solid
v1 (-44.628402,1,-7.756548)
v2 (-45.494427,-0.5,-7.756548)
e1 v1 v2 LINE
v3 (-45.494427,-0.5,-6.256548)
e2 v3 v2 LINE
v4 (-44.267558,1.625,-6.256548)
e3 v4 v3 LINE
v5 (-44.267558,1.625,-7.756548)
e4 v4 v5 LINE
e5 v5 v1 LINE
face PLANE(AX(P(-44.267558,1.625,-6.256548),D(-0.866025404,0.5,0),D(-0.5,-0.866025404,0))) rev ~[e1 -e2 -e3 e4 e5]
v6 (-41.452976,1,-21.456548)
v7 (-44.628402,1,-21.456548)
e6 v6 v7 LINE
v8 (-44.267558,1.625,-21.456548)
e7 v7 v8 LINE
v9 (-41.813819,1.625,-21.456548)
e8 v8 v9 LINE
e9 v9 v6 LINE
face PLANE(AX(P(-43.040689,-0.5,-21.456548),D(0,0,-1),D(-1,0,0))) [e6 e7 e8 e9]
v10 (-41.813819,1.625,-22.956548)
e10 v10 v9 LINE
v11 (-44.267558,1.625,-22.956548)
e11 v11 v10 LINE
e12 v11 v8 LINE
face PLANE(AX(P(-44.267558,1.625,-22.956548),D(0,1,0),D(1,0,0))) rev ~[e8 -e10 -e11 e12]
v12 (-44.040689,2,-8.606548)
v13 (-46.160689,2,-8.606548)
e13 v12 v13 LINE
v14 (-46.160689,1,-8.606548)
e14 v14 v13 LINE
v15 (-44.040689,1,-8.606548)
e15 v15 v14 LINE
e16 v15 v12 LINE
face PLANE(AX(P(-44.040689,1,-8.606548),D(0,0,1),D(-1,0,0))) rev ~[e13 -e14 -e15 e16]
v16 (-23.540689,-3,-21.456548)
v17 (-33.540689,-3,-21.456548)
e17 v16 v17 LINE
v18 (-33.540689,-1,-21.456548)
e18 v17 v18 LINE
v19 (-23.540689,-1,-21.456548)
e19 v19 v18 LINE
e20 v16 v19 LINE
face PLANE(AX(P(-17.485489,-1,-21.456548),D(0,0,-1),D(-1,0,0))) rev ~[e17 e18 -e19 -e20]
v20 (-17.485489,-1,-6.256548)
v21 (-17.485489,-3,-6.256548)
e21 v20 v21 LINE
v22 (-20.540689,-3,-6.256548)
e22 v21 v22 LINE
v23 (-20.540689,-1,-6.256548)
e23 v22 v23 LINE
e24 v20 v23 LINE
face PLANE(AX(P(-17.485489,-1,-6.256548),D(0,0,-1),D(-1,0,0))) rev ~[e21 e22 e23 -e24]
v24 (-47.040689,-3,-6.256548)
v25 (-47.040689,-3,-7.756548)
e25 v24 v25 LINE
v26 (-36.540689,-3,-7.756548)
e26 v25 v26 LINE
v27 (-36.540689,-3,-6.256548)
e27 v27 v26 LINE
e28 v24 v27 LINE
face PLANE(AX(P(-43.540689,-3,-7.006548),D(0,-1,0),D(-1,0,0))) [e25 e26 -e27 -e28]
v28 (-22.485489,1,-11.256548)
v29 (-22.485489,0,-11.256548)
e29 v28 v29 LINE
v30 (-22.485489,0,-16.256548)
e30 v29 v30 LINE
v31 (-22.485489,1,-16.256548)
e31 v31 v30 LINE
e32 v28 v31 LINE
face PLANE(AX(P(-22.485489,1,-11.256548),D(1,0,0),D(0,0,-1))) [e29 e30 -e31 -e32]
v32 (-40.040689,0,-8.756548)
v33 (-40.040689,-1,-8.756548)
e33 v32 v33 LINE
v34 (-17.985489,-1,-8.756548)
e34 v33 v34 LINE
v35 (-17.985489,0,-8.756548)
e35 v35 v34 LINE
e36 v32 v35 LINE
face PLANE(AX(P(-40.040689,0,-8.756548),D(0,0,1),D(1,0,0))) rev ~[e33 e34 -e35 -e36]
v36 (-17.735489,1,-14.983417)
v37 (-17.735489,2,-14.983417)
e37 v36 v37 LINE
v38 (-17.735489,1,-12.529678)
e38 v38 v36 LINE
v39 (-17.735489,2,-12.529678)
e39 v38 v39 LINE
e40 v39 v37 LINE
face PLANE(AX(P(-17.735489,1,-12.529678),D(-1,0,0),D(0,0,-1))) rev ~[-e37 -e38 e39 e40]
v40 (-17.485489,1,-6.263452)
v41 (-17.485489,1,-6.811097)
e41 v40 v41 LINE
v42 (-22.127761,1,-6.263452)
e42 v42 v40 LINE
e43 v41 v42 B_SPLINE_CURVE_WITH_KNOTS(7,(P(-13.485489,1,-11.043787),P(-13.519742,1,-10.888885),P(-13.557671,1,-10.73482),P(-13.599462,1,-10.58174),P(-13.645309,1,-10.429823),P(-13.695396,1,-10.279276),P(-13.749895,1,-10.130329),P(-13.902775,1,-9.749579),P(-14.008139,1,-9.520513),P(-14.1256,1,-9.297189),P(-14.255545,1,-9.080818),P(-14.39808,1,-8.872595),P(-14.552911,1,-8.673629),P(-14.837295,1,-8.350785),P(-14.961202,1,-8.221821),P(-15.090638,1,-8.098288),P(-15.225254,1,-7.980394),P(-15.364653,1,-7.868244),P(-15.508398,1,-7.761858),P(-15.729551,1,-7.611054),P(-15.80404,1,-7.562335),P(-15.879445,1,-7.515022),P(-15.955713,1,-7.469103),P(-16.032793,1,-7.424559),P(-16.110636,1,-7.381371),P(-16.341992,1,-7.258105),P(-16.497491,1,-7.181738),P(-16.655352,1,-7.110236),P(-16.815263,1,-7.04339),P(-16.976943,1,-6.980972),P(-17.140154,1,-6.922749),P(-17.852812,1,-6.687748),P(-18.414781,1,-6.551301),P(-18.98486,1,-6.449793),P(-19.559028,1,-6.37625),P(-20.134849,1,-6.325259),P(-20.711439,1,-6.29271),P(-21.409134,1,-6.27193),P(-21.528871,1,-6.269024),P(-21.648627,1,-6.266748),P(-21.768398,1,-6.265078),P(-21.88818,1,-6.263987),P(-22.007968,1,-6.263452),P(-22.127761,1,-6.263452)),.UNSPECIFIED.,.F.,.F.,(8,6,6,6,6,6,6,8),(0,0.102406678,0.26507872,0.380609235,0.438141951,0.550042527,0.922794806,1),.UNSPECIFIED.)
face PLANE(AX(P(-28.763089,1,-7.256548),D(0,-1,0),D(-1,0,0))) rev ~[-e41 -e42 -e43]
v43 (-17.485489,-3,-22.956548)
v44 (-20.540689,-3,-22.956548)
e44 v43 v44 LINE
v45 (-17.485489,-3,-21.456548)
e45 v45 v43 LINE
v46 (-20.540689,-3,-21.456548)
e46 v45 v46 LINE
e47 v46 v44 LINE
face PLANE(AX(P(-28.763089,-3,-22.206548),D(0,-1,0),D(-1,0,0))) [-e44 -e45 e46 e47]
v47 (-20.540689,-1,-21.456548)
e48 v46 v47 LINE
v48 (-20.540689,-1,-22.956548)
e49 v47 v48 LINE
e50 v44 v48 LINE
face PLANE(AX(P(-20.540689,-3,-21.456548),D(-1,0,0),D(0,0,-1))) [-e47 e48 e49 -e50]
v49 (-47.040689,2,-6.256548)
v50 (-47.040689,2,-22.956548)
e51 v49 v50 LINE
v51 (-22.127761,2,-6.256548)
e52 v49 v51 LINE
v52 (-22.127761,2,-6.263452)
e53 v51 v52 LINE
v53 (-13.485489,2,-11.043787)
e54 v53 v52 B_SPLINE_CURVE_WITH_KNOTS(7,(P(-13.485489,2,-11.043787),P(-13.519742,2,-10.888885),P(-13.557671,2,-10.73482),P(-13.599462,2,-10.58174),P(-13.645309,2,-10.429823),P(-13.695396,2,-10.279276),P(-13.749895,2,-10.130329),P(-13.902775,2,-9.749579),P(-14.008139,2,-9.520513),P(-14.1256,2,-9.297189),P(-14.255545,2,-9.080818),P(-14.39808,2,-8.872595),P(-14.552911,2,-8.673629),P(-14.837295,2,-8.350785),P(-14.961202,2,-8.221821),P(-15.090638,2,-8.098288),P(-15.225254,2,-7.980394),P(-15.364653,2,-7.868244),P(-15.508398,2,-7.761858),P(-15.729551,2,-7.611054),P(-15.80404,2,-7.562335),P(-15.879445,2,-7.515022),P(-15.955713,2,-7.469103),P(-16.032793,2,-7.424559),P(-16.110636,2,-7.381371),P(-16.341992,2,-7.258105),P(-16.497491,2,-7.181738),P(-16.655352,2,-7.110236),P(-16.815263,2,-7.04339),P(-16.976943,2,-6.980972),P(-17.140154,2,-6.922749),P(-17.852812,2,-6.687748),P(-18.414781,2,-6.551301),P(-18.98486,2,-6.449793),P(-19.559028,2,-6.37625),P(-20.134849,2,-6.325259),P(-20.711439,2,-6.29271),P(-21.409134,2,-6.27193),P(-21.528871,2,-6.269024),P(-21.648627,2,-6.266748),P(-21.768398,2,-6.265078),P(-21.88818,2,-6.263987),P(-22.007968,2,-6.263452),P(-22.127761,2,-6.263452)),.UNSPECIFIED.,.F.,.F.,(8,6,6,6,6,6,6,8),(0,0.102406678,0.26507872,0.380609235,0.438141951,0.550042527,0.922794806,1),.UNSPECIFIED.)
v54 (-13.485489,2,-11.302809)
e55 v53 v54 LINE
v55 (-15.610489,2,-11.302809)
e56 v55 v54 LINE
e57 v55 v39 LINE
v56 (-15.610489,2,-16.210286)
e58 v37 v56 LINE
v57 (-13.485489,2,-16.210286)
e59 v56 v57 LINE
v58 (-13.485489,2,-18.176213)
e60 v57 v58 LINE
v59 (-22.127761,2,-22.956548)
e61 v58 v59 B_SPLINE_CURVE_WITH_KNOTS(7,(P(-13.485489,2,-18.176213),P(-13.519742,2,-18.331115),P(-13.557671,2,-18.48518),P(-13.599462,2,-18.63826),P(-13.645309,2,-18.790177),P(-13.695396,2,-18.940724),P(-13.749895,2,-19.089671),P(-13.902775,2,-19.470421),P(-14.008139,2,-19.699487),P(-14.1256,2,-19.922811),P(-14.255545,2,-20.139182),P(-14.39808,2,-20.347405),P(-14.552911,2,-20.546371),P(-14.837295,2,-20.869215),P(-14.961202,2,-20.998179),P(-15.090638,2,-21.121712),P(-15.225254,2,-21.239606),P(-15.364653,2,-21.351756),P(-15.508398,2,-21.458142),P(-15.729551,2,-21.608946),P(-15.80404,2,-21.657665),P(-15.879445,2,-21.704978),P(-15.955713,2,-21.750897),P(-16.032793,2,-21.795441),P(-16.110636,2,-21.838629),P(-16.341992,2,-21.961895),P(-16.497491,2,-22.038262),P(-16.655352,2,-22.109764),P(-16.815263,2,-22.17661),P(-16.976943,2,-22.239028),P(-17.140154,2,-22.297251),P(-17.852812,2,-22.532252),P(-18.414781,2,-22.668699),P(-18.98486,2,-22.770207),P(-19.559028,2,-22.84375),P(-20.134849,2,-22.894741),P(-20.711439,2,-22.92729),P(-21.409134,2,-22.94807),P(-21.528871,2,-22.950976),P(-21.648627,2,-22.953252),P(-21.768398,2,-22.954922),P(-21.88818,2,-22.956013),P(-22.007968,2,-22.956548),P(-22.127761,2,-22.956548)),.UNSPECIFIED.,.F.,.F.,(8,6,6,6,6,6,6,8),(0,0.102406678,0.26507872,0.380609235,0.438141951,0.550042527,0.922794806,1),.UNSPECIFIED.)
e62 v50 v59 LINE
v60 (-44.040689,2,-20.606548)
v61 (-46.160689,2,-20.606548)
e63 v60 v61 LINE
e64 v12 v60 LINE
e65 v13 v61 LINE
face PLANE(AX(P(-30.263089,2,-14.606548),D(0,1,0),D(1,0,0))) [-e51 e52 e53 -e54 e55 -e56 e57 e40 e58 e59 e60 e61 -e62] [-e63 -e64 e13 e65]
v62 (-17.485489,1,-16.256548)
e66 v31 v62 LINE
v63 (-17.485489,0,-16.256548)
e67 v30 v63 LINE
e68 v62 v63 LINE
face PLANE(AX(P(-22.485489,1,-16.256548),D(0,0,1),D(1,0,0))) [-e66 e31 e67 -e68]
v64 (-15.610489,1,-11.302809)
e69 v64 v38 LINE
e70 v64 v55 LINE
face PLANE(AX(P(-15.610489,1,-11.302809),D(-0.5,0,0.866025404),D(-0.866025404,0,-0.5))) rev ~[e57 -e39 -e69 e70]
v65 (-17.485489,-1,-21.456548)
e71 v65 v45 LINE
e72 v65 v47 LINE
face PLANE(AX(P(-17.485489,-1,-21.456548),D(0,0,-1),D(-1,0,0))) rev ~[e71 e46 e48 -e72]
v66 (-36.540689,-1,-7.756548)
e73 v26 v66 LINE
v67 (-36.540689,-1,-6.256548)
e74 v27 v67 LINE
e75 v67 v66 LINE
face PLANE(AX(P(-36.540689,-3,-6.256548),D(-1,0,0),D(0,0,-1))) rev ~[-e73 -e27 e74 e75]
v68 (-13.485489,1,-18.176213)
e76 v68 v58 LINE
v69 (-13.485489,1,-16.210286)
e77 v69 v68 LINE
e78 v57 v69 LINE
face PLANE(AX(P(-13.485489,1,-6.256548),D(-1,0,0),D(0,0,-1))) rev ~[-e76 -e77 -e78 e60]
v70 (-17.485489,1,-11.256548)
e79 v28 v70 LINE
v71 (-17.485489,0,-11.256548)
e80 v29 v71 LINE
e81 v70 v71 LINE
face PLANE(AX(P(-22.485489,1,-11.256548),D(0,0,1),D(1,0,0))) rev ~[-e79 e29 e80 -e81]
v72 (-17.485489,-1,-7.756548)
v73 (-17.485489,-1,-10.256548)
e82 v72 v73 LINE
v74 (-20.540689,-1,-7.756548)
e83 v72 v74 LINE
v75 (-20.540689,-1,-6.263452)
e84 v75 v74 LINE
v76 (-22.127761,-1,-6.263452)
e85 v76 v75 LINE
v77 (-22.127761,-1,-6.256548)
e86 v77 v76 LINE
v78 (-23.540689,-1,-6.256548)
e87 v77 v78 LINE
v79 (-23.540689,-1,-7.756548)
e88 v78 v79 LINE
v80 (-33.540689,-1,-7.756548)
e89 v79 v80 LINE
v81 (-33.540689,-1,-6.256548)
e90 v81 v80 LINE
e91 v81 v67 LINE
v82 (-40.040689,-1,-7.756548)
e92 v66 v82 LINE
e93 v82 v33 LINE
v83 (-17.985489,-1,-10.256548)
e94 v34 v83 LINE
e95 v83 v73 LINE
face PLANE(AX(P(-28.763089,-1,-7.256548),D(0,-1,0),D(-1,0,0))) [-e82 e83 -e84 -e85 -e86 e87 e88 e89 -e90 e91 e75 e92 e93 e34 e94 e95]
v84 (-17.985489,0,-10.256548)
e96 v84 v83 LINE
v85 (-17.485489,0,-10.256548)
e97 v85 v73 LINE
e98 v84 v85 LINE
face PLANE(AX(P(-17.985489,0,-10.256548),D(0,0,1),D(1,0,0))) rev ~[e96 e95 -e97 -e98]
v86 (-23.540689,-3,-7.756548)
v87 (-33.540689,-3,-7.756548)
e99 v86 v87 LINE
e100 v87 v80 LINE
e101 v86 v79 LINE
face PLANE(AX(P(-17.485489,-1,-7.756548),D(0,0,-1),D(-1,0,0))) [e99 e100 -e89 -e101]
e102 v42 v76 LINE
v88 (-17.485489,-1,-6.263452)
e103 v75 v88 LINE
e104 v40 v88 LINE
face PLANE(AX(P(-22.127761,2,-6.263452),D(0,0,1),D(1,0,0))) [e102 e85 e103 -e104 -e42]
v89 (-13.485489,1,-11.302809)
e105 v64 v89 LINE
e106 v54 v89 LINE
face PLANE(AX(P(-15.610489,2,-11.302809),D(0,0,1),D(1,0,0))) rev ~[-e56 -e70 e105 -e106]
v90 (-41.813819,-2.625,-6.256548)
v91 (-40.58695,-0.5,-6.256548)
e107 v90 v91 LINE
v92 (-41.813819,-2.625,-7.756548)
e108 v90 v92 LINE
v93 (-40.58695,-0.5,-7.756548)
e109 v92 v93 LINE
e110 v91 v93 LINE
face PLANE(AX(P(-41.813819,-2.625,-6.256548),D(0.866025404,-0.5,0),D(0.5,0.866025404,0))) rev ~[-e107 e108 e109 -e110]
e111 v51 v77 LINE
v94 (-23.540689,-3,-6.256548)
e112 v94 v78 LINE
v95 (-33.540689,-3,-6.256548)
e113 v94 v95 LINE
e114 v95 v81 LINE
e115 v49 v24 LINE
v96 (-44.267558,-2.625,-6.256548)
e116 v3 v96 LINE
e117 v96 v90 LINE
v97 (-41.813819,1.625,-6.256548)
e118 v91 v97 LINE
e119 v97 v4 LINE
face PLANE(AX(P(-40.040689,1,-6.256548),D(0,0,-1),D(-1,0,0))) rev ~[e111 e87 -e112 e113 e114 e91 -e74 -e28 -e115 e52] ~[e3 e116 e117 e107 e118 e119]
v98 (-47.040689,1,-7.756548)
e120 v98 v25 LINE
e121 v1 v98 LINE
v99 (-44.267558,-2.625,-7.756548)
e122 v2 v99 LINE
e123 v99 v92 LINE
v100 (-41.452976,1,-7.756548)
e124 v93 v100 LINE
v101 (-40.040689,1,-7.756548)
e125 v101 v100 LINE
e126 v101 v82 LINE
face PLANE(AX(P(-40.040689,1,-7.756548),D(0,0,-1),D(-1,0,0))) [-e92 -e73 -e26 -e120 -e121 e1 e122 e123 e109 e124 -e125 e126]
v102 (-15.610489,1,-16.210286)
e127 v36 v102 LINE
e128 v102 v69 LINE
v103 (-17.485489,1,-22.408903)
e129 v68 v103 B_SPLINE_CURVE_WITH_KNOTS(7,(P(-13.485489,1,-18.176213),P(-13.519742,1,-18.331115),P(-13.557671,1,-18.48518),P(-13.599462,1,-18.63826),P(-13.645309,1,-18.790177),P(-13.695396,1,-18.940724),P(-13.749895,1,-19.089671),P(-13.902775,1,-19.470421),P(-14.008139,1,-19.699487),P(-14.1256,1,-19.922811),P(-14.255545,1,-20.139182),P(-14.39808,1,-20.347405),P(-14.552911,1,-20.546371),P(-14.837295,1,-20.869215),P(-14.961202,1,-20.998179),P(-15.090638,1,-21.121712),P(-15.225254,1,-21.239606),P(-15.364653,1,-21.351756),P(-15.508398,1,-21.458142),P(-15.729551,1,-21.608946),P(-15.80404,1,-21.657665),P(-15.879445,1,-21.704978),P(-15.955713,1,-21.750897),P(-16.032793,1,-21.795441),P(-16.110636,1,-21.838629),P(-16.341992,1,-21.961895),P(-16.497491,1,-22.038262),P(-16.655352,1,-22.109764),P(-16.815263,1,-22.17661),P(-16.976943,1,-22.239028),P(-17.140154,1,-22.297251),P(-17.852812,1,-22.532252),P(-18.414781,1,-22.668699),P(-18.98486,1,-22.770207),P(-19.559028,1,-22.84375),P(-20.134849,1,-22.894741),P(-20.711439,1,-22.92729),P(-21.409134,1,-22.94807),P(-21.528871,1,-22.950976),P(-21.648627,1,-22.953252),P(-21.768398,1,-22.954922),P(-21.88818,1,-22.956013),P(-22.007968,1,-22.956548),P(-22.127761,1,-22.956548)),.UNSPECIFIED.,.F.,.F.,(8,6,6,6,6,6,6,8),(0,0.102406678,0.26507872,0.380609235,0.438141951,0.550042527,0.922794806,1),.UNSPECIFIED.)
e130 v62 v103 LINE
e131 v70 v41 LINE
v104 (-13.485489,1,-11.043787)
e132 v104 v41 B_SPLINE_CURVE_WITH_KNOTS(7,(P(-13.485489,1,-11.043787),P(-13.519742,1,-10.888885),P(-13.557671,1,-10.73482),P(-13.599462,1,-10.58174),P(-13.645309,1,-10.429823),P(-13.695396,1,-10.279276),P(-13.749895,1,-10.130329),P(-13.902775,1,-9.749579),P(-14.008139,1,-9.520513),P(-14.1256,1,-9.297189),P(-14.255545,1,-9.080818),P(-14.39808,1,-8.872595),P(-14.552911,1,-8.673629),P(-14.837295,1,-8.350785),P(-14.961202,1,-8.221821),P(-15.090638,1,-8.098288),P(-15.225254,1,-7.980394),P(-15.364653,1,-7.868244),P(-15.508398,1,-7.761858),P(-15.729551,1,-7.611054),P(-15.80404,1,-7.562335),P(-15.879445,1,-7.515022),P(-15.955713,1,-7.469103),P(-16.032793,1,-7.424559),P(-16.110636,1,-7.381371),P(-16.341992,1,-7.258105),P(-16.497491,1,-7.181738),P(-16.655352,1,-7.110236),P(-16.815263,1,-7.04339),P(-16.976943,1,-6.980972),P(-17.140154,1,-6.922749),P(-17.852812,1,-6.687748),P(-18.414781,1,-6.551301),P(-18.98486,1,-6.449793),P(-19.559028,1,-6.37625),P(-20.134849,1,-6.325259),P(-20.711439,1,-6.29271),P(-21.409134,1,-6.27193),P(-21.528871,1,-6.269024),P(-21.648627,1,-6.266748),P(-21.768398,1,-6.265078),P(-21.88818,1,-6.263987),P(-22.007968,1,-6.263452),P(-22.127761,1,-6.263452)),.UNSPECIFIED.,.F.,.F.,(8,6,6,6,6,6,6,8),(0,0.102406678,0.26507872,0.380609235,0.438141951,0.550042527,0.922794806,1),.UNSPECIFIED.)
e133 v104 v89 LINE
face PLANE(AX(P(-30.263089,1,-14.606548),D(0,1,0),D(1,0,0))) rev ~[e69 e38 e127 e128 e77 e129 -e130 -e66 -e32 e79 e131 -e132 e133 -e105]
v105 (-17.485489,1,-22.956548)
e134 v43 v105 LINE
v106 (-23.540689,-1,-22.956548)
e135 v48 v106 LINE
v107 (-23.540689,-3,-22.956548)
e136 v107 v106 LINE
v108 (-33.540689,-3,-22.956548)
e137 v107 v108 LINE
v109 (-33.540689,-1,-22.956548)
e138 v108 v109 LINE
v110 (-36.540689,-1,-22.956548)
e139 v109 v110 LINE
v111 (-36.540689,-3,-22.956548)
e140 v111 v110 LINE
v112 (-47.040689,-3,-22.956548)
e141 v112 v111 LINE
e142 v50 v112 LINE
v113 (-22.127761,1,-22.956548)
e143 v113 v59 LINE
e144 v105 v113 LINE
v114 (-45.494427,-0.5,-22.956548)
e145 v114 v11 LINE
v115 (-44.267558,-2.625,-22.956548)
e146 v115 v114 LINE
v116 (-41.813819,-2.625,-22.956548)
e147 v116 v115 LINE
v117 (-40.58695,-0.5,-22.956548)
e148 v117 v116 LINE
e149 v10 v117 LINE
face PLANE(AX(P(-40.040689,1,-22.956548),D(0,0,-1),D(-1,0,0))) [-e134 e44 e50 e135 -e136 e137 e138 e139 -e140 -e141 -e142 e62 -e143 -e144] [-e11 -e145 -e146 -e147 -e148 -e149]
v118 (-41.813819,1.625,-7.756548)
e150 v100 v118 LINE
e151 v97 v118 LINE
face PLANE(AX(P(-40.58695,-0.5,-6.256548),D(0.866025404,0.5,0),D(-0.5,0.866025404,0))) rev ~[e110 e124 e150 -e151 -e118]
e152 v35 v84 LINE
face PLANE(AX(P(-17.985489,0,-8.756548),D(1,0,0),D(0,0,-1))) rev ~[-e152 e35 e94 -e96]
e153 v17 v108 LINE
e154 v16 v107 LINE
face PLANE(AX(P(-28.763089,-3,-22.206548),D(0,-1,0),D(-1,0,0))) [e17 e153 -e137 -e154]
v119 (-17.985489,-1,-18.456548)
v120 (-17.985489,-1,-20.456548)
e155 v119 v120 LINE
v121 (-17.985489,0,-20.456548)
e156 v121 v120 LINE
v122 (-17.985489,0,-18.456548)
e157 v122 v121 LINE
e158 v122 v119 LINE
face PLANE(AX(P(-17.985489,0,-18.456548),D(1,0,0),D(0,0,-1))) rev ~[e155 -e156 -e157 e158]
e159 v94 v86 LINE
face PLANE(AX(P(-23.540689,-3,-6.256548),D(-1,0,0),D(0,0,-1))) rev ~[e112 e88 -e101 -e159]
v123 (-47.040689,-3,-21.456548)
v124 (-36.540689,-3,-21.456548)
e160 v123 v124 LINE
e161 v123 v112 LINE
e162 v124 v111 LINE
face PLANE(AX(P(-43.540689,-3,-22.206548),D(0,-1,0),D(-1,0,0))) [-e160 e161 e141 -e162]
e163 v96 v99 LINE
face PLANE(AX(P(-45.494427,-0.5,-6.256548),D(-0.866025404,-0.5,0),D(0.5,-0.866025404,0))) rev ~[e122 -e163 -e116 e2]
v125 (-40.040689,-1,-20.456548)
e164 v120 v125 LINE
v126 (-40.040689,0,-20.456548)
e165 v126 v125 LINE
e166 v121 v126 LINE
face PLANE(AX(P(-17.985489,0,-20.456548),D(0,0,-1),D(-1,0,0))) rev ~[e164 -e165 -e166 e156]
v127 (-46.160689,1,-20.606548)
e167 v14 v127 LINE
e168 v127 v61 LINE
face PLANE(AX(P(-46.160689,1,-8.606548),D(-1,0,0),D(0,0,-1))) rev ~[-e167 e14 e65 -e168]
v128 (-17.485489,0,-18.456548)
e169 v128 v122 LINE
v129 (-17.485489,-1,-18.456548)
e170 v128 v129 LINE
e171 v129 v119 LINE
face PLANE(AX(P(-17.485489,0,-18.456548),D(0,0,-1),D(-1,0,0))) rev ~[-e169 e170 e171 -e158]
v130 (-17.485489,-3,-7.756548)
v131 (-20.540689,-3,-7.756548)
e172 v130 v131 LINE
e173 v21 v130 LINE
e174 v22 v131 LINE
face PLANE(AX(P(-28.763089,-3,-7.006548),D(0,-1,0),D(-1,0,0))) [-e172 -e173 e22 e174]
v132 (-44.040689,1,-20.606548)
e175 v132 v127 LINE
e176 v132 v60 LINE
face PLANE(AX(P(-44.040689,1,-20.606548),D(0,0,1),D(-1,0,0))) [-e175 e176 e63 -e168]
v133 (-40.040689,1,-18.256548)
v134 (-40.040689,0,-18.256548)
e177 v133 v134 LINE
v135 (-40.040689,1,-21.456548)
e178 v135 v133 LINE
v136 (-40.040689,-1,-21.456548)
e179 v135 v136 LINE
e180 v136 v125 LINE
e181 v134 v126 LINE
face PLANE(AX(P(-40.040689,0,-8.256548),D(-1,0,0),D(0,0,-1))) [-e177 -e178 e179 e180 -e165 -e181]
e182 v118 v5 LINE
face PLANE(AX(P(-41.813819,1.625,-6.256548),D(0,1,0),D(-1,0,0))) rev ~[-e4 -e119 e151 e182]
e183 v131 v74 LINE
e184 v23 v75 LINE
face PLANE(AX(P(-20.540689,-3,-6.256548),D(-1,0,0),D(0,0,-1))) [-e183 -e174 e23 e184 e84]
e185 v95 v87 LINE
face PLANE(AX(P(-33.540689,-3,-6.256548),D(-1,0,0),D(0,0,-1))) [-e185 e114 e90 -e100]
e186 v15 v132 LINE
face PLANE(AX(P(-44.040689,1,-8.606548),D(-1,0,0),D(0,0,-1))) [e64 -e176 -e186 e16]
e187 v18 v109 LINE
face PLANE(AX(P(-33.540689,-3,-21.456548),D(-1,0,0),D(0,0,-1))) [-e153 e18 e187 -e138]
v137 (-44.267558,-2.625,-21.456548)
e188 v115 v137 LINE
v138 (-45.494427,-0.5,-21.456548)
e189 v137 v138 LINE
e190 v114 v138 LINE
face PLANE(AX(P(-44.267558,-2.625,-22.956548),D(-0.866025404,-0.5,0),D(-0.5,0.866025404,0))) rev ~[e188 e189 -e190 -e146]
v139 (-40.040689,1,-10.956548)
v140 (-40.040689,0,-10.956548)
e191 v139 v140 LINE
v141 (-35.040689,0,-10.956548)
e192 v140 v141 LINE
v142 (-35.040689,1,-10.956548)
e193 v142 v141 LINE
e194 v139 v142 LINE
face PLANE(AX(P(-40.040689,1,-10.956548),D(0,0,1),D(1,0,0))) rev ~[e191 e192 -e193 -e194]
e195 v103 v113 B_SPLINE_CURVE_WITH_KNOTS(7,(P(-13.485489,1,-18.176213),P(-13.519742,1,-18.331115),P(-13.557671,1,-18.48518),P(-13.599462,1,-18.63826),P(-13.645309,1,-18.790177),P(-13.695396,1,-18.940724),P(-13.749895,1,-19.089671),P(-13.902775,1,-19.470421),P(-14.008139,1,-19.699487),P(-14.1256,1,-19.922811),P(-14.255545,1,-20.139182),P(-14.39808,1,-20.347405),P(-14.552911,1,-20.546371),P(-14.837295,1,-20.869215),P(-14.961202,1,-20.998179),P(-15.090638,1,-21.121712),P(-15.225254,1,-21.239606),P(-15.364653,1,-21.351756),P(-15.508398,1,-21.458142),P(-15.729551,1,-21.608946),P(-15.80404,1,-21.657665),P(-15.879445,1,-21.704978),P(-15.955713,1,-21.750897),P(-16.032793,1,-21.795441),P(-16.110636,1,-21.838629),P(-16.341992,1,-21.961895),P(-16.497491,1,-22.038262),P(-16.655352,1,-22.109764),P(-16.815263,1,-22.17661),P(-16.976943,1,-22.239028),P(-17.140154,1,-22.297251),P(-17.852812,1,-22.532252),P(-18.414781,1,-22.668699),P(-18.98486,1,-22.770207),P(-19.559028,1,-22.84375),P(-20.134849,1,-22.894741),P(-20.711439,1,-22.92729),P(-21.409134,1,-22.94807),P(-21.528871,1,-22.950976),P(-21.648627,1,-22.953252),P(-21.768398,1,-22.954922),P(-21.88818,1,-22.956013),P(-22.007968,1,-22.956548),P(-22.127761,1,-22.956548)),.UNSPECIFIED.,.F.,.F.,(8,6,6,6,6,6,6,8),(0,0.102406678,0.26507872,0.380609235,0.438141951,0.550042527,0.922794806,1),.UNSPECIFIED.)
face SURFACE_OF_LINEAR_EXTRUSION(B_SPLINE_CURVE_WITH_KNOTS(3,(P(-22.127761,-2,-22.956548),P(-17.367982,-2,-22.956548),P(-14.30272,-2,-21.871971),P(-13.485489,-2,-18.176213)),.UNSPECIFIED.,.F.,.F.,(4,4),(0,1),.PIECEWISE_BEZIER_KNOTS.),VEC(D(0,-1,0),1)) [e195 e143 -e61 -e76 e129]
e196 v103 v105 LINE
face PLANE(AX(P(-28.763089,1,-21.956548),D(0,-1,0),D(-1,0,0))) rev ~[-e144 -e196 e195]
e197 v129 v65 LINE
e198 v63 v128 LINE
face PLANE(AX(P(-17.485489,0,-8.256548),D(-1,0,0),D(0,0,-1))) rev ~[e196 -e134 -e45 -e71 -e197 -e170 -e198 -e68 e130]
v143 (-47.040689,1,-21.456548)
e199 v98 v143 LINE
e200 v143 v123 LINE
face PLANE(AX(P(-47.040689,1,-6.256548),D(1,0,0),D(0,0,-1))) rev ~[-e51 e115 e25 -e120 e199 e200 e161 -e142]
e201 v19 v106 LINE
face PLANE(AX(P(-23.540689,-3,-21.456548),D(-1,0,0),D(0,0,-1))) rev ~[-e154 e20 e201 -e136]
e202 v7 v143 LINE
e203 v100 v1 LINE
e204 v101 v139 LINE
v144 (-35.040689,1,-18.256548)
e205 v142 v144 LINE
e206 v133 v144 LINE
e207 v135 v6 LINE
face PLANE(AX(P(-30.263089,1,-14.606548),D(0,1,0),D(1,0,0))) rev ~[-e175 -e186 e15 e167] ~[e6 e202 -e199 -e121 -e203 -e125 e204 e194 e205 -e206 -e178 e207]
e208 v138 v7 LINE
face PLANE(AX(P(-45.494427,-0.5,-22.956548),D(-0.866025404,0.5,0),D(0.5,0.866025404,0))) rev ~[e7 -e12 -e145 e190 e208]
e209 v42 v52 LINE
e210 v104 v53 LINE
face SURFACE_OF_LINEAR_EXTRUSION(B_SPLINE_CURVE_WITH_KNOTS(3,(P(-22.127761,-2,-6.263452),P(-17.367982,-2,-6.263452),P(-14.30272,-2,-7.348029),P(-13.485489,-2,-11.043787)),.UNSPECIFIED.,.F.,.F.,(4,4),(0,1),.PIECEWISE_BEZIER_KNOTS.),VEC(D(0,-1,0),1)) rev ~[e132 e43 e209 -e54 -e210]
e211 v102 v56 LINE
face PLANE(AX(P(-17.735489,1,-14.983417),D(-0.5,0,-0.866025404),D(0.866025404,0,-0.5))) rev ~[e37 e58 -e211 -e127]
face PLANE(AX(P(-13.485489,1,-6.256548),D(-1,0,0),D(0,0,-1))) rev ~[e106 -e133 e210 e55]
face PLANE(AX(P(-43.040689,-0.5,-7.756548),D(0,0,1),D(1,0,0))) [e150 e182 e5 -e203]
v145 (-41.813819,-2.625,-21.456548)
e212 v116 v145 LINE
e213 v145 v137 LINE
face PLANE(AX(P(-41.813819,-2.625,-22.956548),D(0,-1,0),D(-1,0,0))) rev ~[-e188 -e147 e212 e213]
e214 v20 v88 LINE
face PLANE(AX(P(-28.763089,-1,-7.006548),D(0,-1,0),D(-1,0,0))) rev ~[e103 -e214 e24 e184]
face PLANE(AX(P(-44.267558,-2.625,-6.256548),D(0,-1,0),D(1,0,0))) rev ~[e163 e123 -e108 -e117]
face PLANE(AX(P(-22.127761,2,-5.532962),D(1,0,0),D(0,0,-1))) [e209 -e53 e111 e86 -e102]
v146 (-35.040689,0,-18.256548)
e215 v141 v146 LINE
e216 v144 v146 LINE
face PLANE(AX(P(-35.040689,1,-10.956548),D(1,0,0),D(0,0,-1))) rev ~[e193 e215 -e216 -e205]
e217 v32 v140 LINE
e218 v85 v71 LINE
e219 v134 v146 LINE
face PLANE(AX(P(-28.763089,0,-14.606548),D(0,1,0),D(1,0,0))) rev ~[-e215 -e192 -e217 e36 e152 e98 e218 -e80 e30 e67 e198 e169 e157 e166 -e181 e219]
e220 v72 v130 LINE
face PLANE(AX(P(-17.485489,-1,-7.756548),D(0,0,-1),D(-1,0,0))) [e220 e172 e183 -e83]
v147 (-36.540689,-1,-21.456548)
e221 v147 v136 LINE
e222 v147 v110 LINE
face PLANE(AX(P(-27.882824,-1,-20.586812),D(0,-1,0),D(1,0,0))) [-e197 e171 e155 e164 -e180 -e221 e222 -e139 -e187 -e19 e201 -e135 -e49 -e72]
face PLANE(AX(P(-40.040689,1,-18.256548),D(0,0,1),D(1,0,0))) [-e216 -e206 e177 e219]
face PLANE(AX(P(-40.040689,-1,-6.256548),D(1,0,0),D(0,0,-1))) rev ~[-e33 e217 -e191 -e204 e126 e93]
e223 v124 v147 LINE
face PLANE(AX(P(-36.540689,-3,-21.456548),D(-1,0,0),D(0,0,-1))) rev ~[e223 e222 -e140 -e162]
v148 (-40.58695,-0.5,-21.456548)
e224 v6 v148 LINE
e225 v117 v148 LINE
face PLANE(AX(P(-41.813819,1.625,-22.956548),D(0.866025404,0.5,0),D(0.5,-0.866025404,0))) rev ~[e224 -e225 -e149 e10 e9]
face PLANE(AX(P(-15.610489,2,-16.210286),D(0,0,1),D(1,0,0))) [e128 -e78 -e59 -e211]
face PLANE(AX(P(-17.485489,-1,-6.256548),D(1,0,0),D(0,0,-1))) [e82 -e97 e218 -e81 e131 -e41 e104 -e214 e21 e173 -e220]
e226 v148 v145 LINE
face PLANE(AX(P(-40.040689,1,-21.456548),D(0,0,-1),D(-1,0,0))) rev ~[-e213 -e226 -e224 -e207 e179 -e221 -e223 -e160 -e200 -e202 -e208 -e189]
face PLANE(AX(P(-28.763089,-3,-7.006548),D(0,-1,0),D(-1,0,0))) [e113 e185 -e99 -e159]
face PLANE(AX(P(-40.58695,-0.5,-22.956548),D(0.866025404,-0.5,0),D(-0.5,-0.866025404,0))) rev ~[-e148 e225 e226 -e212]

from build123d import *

# Parameters (mm, degrees)
SKETCH1_W              = 22.5552
SKETCH1_H              = 12.7
BOSS_EXTRUDE1_DEPTH    = 1
SKETCH2_W              = 5
SKETCH2_H              = 7.3
CUT_EXTRUDE1_DEPTH     = 1
SKETCH3_W              = 5
SKETCH3_H              = 5
CUT_EXTRUDE2_DEPTH     = 1
BOSS_EXTRUDE2_DEPTH    = 1
SKETCH5_W              = 33.5552
SKETCH5_H              = 16.7
BOSS_EXTRUDE3_DEPTH    = 1
CUT_EXTRUDE4_DEPTH     = 1
CUT_EXTRUDE5_START     = -4
CUT_EXTRUDE5_DEPTH     = 5
SKETCH10_W             = 22.5552
SKETCH10_H             = 2
BOSS_EXTRUDE4_DEPTH    = 2
SKETCH11_W             = 8.919893548
SKETCH11_H             = 0.730490532
CUT_EXTRUDE6_DEPTH     = 3
SKETCH12_W             = 22.5552
SKETCH12_H             = 1.5
BOSS_EXTRUDE5_DEPTH    = 2
SKETCH13_W             = 3
SKETCH13_H             = 1.5
CUT_EXTRUDE7_DEPTH     = 2
SKETCH14_W             = 2.125
SKETCH14_H             = 1.226869322
CUT_EXTRUDE8_DEPTH     = 1
SKETCH15_W             = 2.12
SKETCH15_H             = 12
ADAPTER_PCB_HOLE_DEPTH = 1
SKETCH16_W             = 7
SKETCH16_H             = 1.5
BOSS_EXTRUDE6_DEPTH    = 4
NUT_HOLE_DEPTH         = 1.5
SKETCH20_W             = 7
SKETCH20_H             = 1.5
BOSS_EXTRUDE7_DEPTH    = 4
NUT_HOLE2_DEPTH        = 1.5


with BuildPart() as part:
    # Sketch1 → Boss-Extrude1 (new body)
    with BuildSketch(Plane(origin=(0, 0, 0), x_dir=(1, 0, 0), z_dir=(0, 1, 0))):
        with Locations((-28.763088774, 14.606547542)):
            Rectangle(SKETCH1_W, SKETCH1_H)
    extrude(amount=BOSS_EXTRUDE1_DEPTH)

    # Sketch2 → Cut-Extrude1 (cut)
    with BuildSketch(Plane(origin=(0, 1, 0), x_dir=(1, 0, 0), z_dir=(0, 1, 0))):
        with Locations((-37.540688774, 14.606547542)):
            Rectangle(SKETCH2_W, SKETCH2_H)
    extrude(amount=-CUT_EXTRUDE1_DEPTH, mode=Mode.SUBTRACT)

    # Sketch3 → Cut-Extrude2 (cut)
    with BuildSketch(Plane(origin=(0, 1, 0), x_dir=(1, 0, 0), z_dir=(0, 1, 0))):
        with Locations((-19.985488774, 13.756547542)):
            Rectangle(SKETCH3_W, SKETCH3_H)
    extrude(amount=-CUT_EXTRUDE2_DEPTH, mode=Mode.SUBTRACT)

    # Sketch4 → Boss-Extrude2 (add)
    with BuildSketch(Plane.XZ):
        Polygon((-40.040688774, -8.256547542), (-40.040688774, -8.756547542), (-17.985488774, -8.756547542), (-17.985488774, -10.256547542), (-17.485488774, -10.256547542), (-17.485488774, -8.256547542), align=None)
        Polygon((-17.985488774, -20.456547542), (-40.040688774, -20.456547542), (-40.040688774, -20.956547542), (-17.485488774, -20.956547542), (-17.485488774, -18.456547542), (-17.985488774, -18.456547542), align=None)
    extrude(amount=BOSS_EXTRUDE2_DEPTH)

    # Sketch5 → Boss-Extrude3 (add)
    with BuildSketch(Plane(origin=(0, 1, 0), x_dir=(1, 0, 0), z_dir=(0, 1, 0))):
        with Locations((-30.263088774, 14.606547542)):
            Rectangle(SKETCH5_W, SKETCH5_H)
    extrude(amount=BOSS_EXTRUDE3_DEPTH)

    # Sketch7 → Cut-Extrude4 (cut)
    with BuildSketch(Plane(origin=(0, 1, 0), x_dir=(-1, 0, 0), z_dir=(0, -1, 0))):
        Polygon((17.735488774, 14.983416864), (15.610488774, 16.210286186), (13.485488774, 14.983416864), (13.485488774, 12.52967822), (15.610488774, 11.302808898), (17.735488774, 12.52967822), align=None)
    extrude(amount=-CUT_EXTRUDE4_DEPTH, mode=Mode.SUBTRACT)

    # Sketch8 → Cut-Extrude5 (cut)
    with BuildSketch(Plane(origin=(0, 2, 0), x_dir=(1, 0, 0), z_dir=(0, 1, 0)).offset(CUT_EXTRUDE5_START)):
        with BuildLine():
            Line((-13.485488774, 22.956547542), (-22.127760886, 22.956547542))
            add(Edge.make_bspline(
                [(-22.127760886, 22.956547542), (-17.367981555, 22.956547542), (-14.30272025, 21.87197064), (-13.485488774, 18.176213027)],
                knots=[0, 0, 0, 0, 1, 1, 1, 1], degree=3))
            Line((-13.485488774, 18.176213027), (-13.485488774, 22.956547542))
        make_face()
    cut_extrude5 = extrude(amount=CUT_EXTRUDE5_DEPTH, mode=Mode.SUBTRACT)

    # Mirror2: Cut-Extrude5 across plane
    add(cut_extrude5.mirror(Plane.XY.offset(-14.61)), mode=Mode.SUBTRACT)

    # Sketch10 → Boss-Extrude4 (add)
    with BuildSketch(Plane(origin=(0, 1, 0), x_dir=(-1, 0, 0), z_dir=(0, -1, 0))):
        with Locations((28.763088774, 7.256547542)):
            Rectangle(SKETCH10_W, SKETCH10_H)
        with Locations((28.763088774, 21.956547542)):
            Rectangle(SKETCH10_W, SKETCH10_H)
    extrude(amount=BOSS_EXTRUDE4_DEPTH)

    # Sketch11 → Cut-Extrude6 (cut)
    with BuildSketch(Plane(origin=(0, 2, 0), x_dir=(1, 0, 0), z_dir=(0, 1, 0))):
        with Locations((-17.667814112, 5.898207192)):
            Rectangle(SKETCH11_W, SKETCH11_H)
    extrude(amount=-CUT_EXTRUDE6_DEPTH, mode=Mode.SUBTRACT)

    # Sketch12 → Boss-Extrude5 (add)
    with BuildSketch(Plane(origin=(0, -1, 0), x_dir=(-1, 0, 0), z_dir=(0, -1, 0))):
        with Locations((28.763088774, 7.006547542)):
            Rectangle(SKETCH12_W, SKETCH12_H)
        with Locations((28.763088774, 22.206547542)):
            Rectangle(SKETCH12_W, SKETCH12_H)
    extrude(amount=BOSS_EXTRUDE5_DEPTH)

    # Sketch13 → Cut-Extrude7 (cut)
    with BuildSketch(Plane(origin=(0, -3, 0), x_dir=(-1, 0, 0), z_dir=(0, -1, 0))):
        with Locations((35.040688774, 7.006547542)):
            Rectangle(SKETCH13_W, SKETCH13_H)
        with Locations((35.040688774, 22.206547542)):
            Rectangle(SKETCH13_W, SKETCH13_H)
        with Locations((22.040688774, 7.006547542)):
            Rectangle(SKETCH13_W, SKETCH13_H)
        with Locations((22.040688774, 22.206547542)):
            Rectangle(SKETCH13_W, SKETCH13_H)
    extrude(amount=-CUT_EXTRUDE7_DEPTH, mode=Mode.SUBTRACT)

    # Sketch14 → Cut-Extrude8 (cut)
    with BuildSketch(Plane(origin=(0, 2, 0), x_dir=(1, 0, 0), z_dir=(0, 1, 0))):
        with Locations((-14.547988774, 15.596851525)):
            Rectangle(SKETCH14_W, SKETCH14_H)
        with Locations((-14.547988774, 11.916243559)):
            Rectangle(SKETCH14_W, SKETCH14_H)
    extrude(amount=-CUT_EXTRUDE8_DEPTH, mode=Mode.SUBTRACT)

    # Sketch15 → adapter_PCB_hole (cut)
    with BuildSketch(Plane(origin=(0, 1, 0), x_dir=(-1, 0, 0), z_dir=(0, -1, 0))):
        with Locations((45.100688774, 14.606547542)):
            Rectangle(SKETCH15_W, SKETCH15_H)
    extrude(amount=-ADAPTER_PCB_HOLE_DEPTH, mode=Mode.SUBTRACT)

    # Sketch16 → Boss-Extrude6 (add)
    with BuildSketch(Plane(origin=(0, 1, 0), x_dir=(-1, 0, 0), z_dir=(0, -1, 0))):
        with Locations((43.540688774, 22.206547542)):
            Rectangle(SKETCH16_W, SKETCH16_H)
    extrude(amount=BOSS_EXTRUDE6_DEPTH)

    # Sketch19 → nut_hole (cut)
    with BuildSketch(Plane(origin=(0, 0, -22.956547542), x_dir=(-1, 0, 0), z_dir=(0, 0, -1))):
        Polygon((45.494427418, -0.5), (44.267558096, 1.625), (41.813819452, 1.625), (40.58695013, -0.5), (41.813819452, -2.625), (44.267558096, -2.625), align=None)
    extrude(amount=-NUT_HOLE_DEPTH, mode=Mode.SUBTRACT)

    # Sketch20 → Boss-Extrude7 (add)
    with BuildSketch(Plane(origin=(0, 1, 0), x_dir=(-1, 0, 0), z_dir=(0, -1, 0))):
        with Locations((43.540688774, 7.006547542)):
            Rectangle(SKETCH20_W, SKETCH20_H)
    extrude(amount=BOSS_EXTRUDE7_DEPTH)

    # Sketch21 → nut_hole2 (cut)
    with BuildSketch(Plane.XY.offset(-6.256547542)):
        Polygon((-45.494427418, -0.5), (-44.267558096, -2.625), (-41.813819452, -2.625), (-40.58695013, -0.5), (-41.813819452, 1.625), (-44.267558096, 1.625), align=None)
    extrude(amount=-NUT_HOLE2_DEPTH, mode=Mode.SUBTRACT)


solid = part.part
